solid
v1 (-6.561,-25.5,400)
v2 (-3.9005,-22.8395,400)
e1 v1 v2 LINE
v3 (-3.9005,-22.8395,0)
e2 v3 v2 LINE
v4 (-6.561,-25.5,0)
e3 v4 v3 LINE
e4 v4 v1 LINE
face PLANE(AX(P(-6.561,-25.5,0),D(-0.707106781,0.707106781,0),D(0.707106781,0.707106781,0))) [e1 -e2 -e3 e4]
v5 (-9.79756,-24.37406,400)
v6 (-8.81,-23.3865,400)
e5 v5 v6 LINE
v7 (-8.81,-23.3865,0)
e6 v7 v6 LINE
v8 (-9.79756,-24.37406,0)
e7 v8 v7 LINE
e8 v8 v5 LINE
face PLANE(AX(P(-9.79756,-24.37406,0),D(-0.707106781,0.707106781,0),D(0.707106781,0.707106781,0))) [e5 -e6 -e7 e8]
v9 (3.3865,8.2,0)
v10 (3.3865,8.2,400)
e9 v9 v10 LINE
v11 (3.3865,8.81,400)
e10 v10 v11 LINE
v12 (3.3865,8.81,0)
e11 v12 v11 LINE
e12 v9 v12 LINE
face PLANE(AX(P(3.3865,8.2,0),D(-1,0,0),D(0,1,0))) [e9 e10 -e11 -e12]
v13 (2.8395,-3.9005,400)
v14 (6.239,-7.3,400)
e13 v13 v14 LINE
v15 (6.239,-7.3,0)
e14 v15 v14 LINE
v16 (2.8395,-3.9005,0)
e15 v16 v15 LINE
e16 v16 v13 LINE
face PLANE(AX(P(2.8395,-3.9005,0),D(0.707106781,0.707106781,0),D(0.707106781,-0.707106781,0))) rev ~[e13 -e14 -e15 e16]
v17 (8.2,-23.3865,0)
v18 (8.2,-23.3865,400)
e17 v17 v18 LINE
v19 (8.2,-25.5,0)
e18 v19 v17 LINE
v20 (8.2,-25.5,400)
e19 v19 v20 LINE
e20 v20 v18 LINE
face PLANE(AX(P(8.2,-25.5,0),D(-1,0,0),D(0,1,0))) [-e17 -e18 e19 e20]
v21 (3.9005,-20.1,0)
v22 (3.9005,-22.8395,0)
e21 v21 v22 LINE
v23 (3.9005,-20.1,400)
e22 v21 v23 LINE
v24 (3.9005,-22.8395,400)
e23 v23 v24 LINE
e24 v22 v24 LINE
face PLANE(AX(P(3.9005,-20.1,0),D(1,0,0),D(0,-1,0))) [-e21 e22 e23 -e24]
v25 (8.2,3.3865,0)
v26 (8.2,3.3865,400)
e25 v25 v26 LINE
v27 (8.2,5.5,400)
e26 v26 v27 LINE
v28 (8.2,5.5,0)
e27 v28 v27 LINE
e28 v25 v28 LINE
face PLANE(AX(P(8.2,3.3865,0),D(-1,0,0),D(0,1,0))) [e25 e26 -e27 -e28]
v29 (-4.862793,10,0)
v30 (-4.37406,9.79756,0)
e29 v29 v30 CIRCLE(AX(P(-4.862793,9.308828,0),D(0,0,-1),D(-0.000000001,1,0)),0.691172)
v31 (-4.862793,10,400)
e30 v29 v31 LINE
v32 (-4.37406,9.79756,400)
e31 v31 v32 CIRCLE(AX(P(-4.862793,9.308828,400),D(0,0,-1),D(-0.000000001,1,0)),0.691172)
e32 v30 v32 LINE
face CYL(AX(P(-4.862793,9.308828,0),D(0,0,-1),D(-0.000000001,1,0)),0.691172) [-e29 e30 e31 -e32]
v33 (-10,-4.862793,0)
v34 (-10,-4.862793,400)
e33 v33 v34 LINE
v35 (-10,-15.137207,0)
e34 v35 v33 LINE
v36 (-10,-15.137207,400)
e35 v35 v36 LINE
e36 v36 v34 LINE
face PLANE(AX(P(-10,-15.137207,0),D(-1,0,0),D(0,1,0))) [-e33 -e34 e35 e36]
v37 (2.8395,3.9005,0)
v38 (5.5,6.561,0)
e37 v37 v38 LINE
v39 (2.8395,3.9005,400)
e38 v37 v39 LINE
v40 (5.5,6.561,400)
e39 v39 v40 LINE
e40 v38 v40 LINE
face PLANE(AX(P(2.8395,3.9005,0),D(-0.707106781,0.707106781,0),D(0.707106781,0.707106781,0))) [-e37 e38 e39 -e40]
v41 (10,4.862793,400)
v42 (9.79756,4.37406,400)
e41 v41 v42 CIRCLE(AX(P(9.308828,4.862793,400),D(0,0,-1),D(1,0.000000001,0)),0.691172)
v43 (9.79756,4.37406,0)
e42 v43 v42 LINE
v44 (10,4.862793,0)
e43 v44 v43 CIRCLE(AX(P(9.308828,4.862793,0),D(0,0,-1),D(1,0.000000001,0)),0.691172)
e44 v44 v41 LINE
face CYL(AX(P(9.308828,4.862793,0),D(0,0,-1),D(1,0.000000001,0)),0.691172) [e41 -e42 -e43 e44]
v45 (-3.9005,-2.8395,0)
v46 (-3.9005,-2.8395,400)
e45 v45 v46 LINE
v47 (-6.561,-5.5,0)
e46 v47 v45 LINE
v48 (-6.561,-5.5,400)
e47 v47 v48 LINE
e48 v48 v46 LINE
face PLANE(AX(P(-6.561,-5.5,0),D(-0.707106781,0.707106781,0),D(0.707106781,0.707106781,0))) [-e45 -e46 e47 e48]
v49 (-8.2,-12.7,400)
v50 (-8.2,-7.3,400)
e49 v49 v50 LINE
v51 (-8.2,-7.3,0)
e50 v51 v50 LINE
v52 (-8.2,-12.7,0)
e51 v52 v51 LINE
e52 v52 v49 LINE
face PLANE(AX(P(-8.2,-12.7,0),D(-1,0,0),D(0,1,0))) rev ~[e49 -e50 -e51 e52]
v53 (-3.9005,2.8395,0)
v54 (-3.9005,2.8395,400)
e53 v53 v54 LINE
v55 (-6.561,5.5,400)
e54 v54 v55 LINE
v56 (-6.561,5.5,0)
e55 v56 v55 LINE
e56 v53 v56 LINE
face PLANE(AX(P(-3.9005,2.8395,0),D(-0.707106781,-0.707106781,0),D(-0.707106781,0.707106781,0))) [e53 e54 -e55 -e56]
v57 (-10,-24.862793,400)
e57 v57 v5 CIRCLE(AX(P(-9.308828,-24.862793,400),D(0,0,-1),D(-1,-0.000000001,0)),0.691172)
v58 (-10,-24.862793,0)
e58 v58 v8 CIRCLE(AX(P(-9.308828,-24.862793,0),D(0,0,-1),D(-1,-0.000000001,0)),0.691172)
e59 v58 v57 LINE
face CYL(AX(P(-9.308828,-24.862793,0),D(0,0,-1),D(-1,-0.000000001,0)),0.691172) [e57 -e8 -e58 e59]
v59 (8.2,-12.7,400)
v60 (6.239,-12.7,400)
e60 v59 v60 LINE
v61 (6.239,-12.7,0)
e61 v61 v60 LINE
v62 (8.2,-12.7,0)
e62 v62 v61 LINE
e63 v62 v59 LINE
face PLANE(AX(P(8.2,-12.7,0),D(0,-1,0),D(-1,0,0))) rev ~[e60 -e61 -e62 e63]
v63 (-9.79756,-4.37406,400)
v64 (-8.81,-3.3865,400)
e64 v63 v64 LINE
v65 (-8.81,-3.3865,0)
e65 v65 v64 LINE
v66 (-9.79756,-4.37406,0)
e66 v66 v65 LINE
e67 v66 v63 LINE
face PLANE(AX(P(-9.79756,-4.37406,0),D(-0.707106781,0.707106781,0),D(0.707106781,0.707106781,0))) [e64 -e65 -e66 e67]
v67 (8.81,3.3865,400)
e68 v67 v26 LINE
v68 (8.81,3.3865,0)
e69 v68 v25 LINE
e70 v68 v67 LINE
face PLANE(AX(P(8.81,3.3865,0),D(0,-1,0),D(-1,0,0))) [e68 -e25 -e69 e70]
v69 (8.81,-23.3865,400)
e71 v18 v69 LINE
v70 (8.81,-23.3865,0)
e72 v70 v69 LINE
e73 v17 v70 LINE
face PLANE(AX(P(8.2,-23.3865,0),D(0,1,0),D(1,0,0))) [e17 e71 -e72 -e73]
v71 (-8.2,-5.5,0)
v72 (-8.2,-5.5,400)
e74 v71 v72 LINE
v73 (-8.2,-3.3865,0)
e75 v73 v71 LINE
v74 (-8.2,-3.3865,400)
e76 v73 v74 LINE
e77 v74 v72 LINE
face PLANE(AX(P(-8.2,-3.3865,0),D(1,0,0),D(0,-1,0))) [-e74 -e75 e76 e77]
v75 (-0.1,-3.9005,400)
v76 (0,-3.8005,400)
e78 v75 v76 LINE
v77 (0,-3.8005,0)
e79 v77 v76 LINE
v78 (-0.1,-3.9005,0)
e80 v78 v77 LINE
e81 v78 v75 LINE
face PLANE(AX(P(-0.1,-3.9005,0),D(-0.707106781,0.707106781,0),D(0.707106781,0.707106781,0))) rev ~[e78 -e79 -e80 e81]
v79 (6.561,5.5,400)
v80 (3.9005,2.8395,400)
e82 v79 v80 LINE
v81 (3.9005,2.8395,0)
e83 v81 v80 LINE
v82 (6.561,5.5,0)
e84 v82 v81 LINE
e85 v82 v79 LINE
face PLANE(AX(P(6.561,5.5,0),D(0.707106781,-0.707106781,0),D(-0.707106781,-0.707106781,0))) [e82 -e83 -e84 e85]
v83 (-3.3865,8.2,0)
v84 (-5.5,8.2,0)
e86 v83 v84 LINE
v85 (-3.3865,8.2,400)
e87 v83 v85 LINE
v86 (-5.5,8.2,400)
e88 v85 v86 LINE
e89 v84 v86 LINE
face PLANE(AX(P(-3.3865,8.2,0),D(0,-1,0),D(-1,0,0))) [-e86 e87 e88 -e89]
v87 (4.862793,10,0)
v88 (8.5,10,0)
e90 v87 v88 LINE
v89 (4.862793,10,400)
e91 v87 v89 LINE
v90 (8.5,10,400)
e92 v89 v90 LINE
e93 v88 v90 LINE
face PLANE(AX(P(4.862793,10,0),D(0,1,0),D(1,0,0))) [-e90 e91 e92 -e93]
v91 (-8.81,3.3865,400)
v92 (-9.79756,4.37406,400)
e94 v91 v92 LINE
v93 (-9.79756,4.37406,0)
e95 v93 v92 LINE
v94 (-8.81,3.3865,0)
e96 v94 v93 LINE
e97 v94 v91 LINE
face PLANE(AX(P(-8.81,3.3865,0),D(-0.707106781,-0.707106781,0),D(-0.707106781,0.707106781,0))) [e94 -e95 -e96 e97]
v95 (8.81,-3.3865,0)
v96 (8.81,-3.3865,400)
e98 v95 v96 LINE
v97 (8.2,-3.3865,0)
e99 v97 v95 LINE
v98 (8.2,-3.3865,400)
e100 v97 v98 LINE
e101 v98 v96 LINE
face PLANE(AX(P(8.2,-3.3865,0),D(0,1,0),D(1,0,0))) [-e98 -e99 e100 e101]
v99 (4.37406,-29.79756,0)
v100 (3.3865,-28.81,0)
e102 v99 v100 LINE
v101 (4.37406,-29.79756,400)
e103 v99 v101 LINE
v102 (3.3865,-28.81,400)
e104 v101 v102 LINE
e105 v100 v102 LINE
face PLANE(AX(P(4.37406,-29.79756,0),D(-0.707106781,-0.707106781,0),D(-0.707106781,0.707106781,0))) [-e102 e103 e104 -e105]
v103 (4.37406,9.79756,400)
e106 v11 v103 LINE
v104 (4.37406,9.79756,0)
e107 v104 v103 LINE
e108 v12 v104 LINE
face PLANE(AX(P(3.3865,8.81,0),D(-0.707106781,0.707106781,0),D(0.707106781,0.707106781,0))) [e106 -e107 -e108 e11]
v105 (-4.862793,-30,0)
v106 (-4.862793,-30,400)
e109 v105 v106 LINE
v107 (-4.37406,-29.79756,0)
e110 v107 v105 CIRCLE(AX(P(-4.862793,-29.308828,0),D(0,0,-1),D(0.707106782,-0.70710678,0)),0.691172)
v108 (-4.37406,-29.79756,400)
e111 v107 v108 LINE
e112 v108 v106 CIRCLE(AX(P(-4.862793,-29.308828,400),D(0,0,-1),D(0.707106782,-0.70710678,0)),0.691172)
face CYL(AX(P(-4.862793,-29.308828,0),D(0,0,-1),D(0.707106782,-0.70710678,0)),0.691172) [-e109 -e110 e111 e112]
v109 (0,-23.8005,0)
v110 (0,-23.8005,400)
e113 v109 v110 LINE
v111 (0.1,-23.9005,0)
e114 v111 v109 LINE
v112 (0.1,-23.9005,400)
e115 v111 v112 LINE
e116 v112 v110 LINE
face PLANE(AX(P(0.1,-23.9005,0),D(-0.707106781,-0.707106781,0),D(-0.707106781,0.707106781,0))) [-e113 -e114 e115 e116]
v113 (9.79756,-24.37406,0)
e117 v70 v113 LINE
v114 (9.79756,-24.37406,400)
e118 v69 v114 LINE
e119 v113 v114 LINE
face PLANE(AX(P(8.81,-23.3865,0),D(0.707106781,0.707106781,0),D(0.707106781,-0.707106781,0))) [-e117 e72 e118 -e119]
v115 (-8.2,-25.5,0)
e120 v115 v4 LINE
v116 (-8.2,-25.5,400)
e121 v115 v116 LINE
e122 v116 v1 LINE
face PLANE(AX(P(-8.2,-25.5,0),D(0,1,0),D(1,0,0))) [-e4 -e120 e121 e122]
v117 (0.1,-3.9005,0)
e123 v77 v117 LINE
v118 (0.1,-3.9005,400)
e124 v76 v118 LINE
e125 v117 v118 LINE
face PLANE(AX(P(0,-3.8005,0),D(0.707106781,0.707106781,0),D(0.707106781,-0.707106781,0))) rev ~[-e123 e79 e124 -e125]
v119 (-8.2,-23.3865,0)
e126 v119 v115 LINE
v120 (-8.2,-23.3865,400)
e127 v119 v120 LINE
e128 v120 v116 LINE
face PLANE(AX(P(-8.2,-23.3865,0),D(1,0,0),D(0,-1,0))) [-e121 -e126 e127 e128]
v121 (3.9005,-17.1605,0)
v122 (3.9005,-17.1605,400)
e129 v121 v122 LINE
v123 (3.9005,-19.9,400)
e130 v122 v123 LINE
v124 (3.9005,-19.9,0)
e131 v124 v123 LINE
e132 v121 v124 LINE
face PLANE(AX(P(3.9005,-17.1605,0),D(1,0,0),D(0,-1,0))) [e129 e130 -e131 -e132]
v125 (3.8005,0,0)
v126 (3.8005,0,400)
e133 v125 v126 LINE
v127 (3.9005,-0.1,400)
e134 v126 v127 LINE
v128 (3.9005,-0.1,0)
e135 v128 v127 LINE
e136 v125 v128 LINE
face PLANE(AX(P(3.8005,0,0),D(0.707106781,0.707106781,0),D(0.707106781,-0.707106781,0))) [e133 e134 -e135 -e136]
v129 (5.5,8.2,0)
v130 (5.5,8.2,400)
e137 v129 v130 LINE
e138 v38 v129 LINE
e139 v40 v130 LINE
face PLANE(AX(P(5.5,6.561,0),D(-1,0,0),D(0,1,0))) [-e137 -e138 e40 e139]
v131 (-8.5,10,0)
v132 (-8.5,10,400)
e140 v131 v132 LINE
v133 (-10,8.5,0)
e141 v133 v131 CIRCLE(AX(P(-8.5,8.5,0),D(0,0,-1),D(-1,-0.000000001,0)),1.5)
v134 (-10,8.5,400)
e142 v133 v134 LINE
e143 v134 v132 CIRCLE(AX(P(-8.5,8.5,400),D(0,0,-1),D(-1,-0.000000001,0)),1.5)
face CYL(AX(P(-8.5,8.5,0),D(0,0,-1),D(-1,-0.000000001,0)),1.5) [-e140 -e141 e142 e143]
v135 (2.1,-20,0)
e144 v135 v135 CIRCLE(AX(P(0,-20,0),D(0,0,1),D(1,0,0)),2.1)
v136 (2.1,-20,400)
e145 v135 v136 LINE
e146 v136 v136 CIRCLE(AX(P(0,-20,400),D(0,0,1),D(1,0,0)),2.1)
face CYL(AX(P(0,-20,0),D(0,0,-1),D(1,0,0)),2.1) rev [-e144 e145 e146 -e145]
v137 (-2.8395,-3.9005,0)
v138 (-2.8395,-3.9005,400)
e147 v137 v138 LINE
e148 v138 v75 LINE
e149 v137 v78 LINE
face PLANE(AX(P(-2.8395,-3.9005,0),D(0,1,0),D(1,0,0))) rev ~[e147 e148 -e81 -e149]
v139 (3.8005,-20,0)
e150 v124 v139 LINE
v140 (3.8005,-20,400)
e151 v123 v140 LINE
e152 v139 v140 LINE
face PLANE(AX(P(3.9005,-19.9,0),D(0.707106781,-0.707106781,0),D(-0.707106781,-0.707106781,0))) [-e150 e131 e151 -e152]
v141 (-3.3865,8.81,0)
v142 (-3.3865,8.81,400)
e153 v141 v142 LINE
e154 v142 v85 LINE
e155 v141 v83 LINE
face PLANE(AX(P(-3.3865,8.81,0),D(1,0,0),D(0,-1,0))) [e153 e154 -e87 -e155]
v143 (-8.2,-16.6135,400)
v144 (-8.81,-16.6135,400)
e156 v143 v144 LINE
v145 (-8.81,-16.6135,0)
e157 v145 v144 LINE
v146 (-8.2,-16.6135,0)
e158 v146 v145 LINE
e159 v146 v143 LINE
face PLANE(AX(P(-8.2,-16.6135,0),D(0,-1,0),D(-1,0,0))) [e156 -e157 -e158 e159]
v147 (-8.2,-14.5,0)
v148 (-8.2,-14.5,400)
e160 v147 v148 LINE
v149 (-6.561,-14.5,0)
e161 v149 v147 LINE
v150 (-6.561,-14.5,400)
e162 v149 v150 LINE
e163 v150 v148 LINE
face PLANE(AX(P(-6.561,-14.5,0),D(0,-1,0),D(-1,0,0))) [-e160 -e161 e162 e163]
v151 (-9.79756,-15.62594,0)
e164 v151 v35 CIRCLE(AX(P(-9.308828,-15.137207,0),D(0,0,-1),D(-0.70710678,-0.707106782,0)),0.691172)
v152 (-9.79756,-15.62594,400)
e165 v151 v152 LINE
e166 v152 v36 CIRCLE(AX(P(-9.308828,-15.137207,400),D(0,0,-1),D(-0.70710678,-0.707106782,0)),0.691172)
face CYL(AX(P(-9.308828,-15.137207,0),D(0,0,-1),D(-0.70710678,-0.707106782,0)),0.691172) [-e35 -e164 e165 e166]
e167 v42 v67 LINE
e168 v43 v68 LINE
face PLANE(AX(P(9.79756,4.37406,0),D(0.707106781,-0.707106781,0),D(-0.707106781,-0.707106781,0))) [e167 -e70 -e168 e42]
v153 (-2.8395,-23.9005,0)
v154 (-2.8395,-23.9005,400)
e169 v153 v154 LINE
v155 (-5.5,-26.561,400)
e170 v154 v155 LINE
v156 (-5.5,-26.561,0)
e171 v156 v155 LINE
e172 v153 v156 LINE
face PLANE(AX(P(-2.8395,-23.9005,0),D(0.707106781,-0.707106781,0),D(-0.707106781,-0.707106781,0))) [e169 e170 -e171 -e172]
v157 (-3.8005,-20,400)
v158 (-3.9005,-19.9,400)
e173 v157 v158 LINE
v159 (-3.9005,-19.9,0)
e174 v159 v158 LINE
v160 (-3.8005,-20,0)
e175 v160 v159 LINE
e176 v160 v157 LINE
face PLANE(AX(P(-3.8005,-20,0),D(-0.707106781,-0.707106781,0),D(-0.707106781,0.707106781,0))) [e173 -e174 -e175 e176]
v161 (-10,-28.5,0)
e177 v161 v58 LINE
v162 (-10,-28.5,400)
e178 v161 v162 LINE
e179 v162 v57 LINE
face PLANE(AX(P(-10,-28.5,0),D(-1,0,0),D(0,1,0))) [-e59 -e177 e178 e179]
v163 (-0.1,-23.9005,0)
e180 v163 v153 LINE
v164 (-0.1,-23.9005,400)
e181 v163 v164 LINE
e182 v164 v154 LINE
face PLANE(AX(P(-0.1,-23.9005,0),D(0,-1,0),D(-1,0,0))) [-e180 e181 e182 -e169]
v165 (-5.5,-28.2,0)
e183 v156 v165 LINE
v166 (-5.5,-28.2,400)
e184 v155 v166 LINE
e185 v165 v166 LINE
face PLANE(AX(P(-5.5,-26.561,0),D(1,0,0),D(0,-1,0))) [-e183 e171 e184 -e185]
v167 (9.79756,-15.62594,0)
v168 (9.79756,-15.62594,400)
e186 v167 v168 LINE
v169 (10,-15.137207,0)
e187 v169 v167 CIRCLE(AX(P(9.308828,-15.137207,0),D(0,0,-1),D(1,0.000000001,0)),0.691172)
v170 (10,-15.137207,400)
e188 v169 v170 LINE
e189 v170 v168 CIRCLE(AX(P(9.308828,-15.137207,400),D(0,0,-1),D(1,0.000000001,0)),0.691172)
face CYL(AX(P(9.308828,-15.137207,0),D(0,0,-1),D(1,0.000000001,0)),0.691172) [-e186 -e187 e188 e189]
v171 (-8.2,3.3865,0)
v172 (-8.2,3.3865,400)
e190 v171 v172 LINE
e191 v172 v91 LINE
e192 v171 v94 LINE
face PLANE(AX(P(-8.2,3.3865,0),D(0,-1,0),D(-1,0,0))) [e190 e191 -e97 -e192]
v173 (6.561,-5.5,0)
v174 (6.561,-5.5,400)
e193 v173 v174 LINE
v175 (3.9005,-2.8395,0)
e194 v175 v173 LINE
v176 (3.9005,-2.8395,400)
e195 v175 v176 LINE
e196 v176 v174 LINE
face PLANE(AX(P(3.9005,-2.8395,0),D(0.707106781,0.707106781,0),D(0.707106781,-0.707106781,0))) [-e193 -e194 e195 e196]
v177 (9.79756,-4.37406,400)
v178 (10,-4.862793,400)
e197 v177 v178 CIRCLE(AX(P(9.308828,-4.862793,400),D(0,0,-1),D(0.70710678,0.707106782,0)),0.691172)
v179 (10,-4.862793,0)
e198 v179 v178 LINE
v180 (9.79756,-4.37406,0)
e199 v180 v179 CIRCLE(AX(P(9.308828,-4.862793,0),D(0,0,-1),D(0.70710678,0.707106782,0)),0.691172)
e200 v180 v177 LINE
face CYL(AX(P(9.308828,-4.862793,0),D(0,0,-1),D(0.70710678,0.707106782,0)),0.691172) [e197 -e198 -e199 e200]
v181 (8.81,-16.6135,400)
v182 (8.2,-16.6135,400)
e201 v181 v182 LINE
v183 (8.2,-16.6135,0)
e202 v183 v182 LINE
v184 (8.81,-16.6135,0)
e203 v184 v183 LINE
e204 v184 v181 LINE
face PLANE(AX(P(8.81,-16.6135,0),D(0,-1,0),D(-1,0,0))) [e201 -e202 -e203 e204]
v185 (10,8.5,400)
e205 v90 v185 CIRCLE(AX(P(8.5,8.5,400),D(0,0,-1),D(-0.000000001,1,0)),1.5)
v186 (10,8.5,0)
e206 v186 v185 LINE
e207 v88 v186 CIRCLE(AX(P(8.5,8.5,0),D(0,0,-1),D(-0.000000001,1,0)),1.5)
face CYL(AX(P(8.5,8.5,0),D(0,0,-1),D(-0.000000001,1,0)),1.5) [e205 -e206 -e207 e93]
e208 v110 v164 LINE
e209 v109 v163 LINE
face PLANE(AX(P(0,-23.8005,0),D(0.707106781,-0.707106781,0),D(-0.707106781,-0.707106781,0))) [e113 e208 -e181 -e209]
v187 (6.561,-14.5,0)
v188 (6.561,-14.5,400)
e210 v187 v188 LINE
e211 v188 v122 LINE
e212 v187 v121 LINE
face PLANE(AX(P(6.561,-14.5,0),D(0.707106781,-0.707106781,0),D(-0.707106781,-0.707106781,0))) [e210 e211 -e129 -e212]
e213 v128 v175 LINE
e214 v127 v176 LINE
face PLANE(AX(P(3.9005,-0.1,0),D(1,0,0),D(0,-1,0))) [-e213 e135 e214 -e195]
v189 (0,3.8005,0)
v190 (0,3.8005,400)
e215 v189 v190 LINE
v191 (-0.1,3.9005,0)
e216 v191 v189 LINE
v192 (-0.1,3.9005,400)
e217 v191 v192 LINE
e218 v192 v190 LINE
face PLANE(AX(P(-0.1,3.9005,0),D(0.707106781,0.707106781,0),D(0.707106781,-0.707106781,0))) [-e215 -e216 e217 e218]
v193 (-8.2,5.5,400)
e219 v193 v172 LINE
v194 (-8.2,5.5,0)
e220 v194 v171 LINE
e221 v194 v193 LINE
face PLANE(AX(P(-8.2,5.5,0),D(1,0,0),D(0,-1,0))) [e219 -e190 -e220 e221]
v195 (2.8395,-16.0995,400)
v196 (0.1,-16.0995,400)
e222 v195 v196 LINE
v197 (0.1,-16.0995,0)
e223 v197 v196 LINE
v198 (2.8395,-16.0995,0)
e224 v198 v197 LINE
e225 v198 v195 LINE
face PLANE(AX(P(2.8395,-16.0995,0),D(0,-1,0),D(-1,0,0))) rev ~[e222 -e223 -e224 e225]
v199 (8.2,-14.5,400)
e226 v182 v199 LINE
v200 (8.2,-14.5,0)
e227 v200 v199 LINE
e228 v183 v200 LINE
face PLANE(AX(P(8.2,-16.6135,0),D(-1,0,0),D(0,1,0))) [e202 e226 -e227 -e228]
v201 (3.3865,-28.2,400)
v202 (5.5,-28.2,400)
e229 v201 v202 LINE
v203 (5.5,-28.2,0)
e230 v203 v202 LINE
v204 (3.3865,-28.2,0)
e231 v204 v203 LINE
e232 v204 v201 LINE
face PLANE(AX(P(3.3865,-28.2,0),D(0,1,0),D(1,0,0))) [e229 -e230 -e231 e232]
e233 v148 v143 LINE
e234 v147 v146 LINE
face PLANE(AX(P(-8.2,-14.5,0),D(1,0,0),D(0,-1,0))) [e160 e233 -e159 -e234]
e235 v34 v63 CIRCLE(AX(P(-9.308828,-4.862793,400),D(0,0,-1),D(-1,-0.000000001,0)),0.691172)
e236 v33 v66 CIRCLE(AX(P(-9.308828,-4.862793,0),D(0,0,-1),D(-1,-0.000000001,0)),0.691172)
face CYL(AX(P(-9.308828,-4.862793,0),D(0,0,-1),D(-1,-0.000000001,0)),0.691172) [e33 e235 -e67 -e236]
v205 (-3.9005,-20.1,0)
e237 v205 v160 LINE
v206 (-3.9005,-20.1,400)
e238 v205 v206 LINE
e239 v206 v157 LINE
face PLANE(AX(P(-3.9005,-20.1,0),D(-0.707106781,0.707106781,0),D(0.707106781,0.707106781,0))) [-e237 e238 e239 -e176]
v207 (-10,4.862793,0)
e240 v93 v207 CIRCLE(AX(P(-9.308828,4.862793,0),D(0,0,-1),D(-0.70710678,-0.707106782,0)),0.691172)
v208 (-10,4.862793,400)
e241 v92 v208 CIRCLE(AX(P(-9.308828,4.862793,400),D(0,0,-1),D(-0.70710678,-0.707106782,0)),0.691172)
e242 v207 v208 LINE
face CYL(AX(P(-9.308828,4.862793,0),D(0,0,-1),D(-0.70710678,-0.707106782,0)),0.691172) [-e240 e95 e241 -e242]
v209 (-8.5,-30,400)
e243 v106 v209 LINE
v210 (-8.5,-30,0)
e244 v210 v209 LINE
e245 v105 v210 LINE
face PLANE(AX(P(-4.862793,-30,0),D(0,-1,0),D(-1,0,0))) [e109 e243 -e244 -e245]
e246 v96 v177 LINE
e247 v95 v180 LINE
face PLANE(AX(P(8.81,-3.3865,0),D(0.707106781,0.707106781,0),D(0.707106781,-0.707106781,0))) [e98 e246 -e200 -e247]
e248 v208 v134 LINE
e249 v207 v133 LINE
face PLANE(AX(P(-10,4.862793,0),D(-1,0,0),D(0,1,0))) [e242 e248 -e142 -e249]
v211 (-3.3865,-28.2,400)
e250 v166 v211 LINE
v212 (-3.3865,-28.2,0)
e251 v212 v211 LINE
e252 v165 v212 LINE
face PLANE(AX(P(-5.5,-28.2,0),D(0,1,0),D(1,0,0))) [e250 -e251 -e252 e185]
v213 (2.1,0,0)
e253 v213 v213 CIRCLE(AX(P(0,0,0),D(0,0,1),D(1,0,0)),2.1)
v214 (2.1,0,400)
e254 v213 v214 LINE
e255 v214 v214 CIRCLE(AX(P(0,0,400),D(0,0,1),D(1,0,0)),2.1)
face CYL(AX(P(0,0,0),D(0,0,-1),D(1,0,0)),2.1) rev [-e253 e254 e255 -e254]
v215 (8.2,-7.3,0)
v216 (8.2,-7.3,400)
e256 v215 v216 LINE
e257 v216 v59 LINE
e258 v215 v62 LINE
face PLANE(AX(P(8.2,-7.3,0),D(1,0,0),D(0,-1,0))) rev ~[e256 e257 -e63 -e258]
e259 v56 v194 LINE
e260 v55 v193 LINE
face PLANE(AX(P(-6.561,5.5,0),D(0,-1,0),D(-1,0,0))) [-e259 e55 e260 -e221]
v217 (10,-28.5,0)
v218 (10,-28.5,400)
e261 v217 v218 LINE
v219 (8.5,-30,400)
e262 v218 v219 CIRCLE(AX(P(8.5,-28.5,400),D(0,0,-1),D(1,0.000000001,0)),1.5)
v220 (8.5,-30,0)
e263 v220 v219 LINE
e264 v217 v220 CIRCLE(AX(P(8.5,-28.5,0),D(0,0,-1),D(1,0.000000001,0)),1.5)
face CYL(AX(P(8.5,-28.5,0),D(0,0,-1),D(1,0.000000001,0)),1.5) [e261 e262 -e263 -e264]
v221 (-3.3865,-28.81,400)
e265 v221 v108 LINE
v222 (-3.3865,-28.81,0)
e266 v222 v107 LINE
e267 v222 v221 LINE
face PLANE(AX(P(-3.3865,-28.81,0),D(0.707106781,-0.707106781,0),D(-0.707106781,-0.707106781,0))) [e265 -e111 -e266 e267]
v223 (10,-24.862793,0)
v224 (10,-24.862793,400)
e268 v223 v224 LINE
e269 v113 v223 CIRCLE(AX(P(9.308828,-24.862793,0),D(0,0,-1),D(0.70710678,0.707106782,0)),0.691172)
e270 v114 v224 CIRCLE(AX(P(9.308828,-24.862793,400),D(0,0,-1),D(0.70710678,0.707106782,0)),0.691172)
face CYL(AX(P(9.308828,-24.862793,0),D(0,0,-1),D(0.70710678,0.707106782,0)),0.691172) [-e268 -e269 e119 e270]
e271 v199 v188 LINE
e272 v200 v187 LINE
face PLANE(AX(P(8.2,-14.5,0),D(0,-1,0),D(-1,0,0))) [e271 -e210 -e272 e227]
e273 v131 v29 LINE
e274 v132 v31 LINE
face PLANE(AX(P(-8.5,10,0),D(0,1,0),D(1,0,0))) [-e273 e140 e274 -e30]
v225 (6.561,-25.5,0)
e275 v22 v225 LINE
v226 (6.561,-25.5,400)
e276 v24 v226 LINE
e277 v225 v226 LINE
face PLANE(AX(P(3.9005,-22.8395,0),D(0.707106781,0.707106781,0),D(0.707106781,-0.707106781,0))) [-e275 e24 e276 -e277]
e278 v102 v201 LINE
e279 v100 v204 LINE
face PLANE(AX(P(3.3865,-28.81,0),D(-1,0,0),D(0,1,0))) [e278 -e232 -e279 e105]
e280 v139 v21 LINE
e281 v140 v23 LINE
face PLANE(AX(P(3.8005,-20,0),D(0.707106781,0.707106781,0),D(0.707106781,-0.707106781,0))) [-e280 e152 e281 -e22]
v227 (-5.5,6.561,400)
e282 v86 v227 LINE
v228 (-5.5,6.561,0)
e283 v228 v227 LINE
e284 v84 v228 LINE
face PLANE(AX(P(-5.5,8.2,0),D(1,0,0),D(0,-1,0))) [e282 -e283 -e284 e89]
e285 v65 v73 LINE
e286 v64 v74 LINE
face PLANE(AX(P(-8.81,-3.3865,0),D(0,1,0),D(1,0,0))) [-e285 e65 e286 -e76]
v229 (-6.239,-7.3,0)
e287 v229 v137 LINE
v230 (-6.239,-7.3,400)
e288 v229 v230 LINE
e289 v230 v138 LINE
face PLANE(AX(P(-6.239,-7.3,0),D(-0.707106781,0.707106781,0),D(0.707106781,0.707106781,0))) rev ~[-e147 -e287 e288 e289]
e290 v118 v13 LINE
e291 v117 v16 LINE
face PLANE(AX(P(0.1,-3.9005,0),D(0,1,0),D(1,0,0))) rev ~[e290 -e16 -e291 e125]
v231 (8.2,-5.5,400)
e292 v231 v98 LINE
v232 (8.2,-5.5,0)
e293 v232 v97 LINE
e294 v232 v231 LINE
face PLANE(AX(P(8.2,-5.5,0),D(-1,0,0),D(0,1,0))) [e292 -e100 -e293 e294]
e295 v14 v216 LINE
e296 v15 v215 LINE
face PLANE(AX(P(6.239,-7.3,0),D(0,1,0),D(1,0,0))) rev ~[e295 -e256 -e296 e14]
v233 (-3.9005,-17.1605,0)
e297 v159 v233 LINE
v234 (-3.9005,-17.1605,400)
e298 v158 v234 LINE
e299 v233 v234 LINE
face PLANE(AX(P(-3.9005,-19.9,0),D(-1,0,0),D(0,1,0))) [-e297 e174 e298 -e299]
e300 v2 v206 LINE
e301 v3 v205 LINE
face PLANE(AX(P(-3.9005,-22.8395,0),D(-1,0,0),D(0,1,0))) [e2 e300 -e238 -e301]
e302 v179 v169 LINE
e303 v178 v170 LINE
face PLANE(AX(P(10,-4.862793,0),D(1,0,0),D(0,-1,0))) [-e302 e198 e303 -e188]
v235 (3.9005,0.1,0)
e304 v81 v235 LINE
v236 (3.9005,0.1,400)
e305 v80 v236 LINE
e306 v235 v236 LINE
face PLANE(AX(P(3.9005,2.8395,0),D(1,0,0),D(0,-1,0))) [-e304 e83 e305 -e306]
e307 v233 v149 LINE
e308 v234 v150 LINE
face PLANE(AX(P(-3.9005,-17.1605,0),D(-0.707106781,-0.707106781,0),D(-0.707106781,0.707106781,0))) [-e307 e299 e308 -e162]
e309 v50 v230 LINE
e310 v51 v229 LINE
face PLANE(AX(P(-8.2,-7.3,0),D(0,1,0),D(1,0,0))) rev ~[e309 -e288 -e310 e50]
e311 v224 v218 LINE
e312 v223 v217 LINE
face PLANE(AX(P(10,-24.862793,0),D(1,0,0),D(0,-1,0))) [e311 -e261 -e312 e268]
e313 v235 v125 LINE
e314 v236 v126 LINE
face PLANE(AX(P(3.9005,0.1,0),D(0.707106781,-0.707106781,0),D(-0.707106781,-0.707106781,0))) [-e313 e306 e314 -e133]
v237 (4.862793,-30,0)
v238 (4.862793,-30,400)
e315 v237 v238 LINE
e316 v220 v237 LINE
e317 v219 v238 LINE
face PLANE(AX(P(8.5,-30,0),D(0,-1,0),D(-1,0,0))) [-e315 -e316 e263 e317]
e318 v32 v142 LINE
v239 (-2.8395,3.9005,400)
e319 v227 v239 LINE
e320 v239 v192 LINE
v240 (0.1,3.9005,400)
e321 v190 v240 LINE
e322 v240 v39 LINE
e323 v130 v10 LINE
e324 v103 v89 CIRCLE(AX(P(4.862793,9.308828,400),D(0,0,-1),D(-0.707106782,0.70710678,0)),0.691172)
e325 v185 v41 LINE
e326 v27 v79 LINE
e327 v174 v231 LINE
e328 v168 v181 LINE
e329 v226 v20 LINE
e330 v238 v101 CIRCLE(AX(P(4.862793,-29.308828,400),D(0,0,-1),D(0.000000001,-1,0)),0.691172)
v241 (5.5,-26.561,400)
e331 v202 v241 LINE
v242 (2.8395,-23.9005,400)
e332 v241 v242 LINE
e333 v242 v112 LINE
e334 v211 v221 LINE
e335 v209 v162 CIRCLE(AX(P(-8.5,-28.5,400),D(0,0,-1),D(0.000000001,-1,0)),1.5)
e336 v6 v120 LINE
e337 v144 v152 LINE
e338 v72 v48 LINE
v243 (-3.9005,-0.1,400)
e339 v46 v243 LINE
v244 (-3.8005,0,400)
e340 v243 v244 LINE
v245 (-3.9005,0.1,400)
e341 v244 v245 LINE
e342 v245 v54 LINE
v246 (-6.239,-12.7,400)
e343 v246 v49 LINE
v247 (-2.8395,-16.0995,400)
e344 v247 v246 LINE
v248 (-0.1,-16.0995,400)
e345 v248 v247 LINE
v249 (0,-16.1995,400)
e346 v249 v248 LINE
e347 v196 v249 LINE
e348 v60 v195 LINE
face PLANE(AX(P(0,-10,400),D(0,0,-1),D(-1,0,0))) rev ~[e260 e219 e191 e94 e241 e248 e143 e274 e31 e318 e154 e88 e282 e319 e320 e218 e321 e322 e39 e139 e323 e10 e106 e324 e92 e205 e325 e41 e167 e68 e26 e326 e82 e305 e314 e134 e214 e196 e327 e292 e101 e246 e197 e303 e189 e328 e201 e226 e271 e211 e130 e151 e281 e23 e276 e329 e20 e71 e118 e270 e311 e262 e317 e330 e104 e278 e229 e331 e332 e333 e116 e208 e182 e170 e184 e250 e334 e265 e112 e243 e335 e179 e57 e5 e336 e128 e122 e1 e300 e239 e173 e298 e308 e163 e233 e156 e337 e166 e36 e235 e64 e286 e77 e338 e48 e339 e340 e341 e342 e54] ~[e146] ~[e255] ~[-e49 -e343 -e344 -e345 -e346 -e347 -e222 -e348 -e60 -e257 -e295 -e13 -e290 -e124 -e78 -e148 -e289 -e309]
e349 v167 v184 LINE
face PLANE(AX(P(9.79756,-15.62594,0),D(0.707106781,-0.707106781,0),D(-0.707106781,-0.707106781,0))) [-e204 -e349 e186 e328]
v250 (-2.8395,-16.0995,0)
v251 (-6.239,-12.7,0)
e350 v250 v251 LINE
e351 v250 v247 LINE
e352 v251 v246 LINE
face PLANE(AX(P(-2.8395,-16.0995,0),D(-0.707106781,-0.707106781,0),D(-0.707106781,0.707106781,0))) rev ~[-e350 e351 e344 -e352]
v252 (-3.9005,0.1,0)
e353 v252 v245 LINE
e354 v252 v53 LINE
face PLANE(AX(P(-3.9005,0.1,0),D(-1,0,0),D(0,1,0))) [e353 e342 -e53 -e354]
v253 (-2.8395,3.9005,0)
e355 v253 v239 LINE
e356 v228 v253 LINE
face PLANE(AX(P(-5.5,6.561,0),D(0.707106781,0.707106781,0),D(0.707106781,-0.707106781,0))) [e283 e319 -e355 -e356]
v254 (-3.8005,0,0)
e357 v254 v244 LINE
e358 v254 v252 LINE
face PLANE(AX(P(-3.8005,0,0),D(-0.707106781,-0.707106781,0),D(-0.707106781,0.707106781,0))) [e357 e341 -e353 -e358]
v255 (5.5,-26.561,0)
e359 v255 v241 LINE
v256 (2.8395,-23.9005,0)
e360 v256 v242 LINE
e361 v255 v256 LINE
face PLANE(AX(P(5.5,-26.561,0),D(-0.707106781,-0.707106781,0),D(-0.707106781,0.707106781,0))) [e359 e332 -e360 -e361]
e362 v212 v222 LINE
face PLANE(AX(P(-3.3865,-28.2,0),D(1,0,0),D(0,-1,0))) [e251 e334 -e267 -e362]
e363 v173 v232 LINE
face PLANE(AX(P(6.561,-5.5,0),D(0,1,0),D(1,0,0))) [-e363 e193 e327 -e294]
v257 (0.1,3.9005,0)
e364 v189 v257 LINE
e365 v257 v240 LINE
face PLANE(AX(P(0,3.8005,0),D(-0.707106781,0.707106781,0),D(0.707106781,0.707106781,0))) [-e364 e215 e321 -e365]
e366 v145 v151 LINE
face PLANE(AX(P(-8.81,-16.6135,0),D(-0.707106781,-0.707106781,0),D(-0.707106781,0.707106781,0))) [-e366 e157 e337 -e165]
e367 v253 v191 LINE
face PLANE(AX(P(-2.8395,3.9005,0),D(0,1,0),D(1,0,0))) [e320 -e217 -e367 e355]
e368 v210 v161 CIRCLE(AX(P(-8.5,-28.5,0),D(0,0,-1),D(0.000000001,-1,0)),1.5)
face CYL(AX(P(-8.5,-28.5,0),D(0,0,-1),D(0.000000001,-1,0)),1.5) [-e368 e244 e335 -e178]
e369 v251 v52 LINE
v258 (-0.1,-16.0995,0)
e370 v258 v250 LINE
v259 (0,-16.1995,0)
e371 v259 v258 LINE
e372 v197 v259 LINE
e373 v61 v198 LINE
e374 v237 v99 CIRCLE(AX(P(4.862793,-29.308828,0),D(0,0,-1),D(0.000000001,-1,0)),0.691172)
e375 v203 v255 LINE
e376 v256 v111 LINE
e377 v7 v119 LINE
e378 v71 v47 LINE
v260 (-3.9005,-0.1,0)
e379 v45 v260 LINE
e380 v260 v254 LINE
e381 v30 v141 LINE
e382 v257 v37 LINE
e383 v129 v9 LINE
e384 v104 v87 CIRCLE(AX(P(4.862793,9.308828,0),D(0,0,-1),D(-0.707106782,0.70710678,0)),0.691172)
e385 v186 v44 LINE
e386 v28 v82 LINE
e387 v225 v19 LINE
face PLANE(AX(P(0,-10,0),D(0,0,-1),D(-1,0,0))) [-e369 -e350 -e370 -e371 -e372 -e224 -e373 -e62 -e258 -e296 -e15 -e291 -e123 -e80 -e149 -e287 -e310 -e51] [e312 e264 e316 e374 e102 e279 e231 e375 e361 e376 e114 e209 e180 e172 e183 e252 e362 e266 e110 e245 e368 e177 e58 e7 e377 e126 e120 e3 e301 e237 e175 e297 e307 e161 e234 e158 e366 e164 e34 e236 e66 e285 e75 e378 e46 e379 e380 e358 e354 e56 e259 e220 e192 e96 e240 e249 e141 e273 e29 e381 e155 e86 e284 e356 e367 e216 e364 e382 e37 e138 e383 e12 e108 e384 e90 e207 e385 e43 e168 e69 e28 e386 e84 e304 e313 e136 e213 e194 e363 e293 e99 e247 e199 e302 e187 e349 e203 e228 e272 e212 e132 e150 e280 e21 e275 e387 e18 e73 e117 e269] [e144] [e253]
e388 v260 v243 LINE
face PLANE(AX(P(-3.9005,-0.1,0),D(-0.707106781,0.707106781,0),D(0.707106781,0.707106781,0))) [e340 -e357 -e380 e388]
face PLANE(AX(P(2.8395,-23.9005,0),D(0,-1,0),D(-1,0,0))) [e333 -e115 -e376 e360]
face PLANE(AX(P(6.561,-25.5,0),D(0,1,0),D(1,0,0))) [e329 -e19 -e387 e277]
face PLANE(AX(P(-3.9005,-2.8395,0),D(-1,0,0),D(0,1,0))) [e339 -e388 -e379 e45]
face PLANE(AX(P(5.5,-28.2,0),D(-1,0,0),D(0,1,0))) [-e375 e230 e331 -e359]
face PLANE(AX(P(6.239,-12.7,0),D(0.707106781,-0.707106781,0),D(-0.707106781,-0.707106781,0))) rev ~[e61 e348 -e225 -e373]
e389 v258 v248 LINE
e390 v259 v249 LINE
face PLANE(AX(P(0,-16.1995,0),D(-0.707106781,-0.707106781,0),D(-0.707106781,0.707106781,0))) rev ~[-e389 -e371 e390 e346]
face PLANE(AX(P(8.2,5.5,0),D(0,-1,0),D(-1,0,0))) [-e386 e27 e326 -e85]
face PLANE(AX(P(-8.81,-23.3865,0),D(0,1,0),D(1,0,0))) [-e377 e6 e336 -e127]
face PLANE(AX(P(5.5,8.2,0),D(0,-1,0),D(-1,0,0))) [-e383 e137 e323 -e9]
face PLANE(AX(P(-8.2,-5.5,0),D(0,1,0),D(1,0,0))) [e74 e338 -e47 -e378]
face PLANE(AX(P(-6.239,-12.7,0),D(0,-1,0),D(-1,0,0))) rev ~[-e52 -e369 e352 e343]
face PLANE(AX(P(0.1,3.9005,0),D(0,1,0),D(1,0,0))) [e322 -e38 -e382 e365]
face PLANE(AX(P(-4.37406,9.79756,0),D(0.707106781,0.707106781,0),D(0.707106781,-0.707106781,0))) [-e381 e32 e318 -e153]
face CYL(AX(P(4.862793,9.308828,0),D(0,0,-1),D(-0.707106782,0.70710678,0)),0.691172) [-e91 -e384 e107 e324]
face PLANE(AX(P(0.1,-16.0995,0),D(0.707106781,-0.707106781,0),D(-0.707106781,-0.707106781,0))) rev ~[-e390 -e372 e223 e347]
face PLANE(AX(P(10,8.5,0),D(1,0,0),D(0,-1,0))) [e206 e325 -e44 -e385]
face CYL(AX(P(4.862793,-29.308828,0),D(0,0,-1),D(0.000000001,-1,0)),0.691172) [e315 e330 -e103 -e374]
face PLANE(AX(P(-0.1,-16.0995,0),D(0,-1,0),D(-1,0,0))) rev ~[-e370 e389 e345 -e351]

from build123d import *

# Parameters (mm, degrees)
SKETCH1_R           = 2.1
BOSS_EXTRUDE2_DEPTH = 400


with BuildPart() as part:
    # Sketch1 → Boss-Extrude2 (new body)
    with BuildSketch(Plane.XY):
        with BuildLine():
            Line((-8.5, 10), (-4.862792737, 10))
            ThreePointArc((-4.862792737, 10), (-4.598292737, 9.947387679), (-4.374060464, 9.797560464))
            Line((-4.374060464, 9.797560464), (-3.3865, 8.81))
            Line((-3.3865, 8.81), (-3.3865, 8.2))
            Line((-3.3865, 8.2), (-5.5, 8.2))
            Line((-5.5, 8.2), (-5.5, 6.561))
            Line((-5.5, 6.561), (-2.8395, 3.9005))
            Line((-2.8395, 3.9005), (-0.1, 3.9005))
            Line((-0.1, 3.9005), (0, 3.8005))
            Line((0, 3.8005), (0.1, 3.9005))
            Line((0.1, 3.9005), (2.8395, 3.9005))
            Line((2.8395, 3.9005), (5.5, 6.561))
            Line((5.5, 6.561), (5.5, 8.2))
            Line((5.5, 8.2), (3.3865, 8.2))
            Line((3.3865, 8.2), (3.3865, 8.81))
            Line((3.3865, 8.81), (4.374060464, 9.797560464))
            ThreePointArc((4.374060464, 9.797560464), (4.598292737, 9.947387679), (4.862792737, 10))
            Line((4.862792737, 10), (8.5, 10))
            ThreePointArc((8.5, 10), (9.560660172, 9.560660172), (10, 8.5))
            Line((10, 8.5), (10, 4.862792737))
            ThreePointArc((10, 4.862792737), (9.947387679, 4.598292737), (9.797560464, 4.374060464))
            Line((9.797560464, 4.374060464), (8.81, 3.3865))
            Line((8.81, 3.3865), (8.2, 3.3865))
            Line((8.2, 3.3865), (8.2, 5.5))
            Line((8.2, 5.5), (6.561, 5.5))
            Line((6.561, 5.5), (3.9005, 2.8395))
            Line((3.9005, 2.8395), (3.9005, 0.1))
            Line((3.9005, 0.1), (3.8005, 0))
            Line((3.8005, 0), (3.9005, -0.1))
            Line((3.9005, -0.1), (3.9005, -2.8395))
            Line((3.9005, -2.8395), (6.561, -5.5))
            Line((6.561, -5.5), (8.2, -5.5))
            Line((8.2, -5.5), (8.2, -3.3865))
            Line((8.2, -3.3865), (8.81, -3.3865))
            Line((8.81, -3.3865), (9.797560464, -4.374060464))
            ThreePointArc((9.797560464, -4.374060464), (9.947387679, -4.598292737), (10, -4.862792737))
            Line((10, -4.862792737), (10, -15.137207263))
            ThreePointArc((10, -15.137207263), (9.947387679, -15.401707263), (9.797560464, -15.625939536))
            Line((9.797560464, -15.625939536), (8.81, -16.6135))
            Line((8.81, -16.6135), (8.2, -16.6135))
            Line((8.2, -16.6135), (8.2, -14.5))
            Line((8.2, -14.5), (6.561, -14.5))
            Line((6.561, -14.5), (3.9005, -17.1605))
            Line((3.9005, -17.1605), (3.9005, -19.9))
            Line((3.9005, -19.9), (3.8005, -20))
            Line((3.8005, -20), (3.9005, -20.1))
            Line((3.9005, -20.1), (3.9005, -22.8395))
            Line((3.9005, -22.8395), (6.561, -25.5))
            Line((6.561, -25.5), (8.2, -25.5))
            Line((8.2, -25.5), (8.2, -23.3865))
            Line((8.2, -23.3865), (8.81, -23.3865))
            Line((8.81, -23.3865), (9.797560464, -24.374060464))
            ThreePointArc((9.797560464, -24.374060464), (9.947387679, -24.598292737), (10, -24.862792737))
            Line((10, -24.862792737), (10, -28.5))
            ThreePointArc((10, -28.5), (9.560660172, -29.560660172), (8.5, -30))
            Line((8.5, -30), (4.862792737, -30))
            ThreePointArc((4.862792737, -30), (4.598292737, -29.947387679), (4.374060464, -29.797560464))
            Line((4.374060464, -29.797560464), (3.3865, -28.81))
            Line((3.3865, -28.81), (3.3865, -28.2))
            Line((3.3865, -28.2), (5.5, -28.2))
            Line((5.5, -28.2), (5.5, -26.561))
            Line((5.5, -26.561), (2.8395, -23.9005))
            Line((2.8395, -23.9005), (0.1, -23.9005))
            Line((0.1, -23.9005), (0, -23.8005))
            Line((0, -23.8005), (-0.1, -23.9005))
            Line((-0.1, -23.9005), (-2.8395, -23.9005))
            Line((-2.8395, -23.9005), (-5.5, -26.561))
            Line((-5.5, -26.561), (-5.5, -28.2))
            Line((-5.5, -28.2), (-3.3865, -28.2))
            Line((-3.3865, -28.2), (-3.3865, -28.81))
            Line((-3.3865, -28.81), (-4.374060464, -29.797560464))
            ThreePointArc((-4.374060464, -29.797560464), (-4.598292737, -29.947387679), (-4.862792737, -30))
            Line((-4.862792737, -30), (-8.5, -30))
            ThreePointArc((-8.5, -30), (-9.560660172, -29.560660172), (-10, -28.5))
            Line((-10, -28.5), (-10, -24.862792737))
            ThreePointArc((-10, -24.862792737), (-9.947387679, -24.598292737), (-9.797560464, -24.374060464))
            Line((-9.797560464, -24.374060464), (-8.81, -23.3865))
            Line((-8.81, -23.3865), (-8.2, -23.3865))
            Line((-8.2, -23.3865), (-8.2, -25.5))
            Line((-8.2, -25.5), (-6.561, -25.5))
            Line((-6.561, -25.5), (-3.9005, -22.8395))
            Line((-3.9005, -22.8395), (-3.9005, -20.1))
            Line((-3.9005, -20.1), (-3.8005, -20))
            Line((-3.8005, -20), (-3.9005, -19.9))
            Line((-3.9005, -19.9), (-3.9005, -17.1605))
            Line((-3.9005, -17.1605), (-6.561, -14.5))
            Line((-6.561, -14.5), (-8.2, -14.5))
            Line((-8.2, -14.5), (-8.2, -16.6135))
            Line((-8.2, -16.6135), (-8.81, -16.6135))
            Line((-8.81, -16.6135), (-9.797560464, -15.625939536))
            ThreePointArc((-9.797560464, -15.625939536), (-9.947387679, -15.401707263), (-10, -15.137207263))
            Line((-10, -15.137207263), (-10, -4.862792737))
            ThreePointArc((-10, -4.862792737), (-9.947387679, -4.598292737), (-9.797560464, -4.374060464))
            Line((-9.797560464, -4.374060464), (-8.81, -3.3865))
            Line((-8.81, -3.3865), (-8.2, -3.3865))
            Line((-8.2, -3.3865), (-8.2, -5.5))
            Line((-8.2, -5.5), (-6.561, -5.5))
            Line((-6.561, -5.5), (-3.9005, -2.8395))
            Line((-3.9005, -2.8395), (-3.9005, -0.1))
            Line((-3.9005, -0.1), (-3.8005, 0))
            Line((-3.8005, 0), (-3.9005, 0.1))
            Line((-3.9005, 0.1), (-3.9005, 2.8395))
            Line((-3.9005, 2.8395), (-6.561, 5.5))
            Line((-6.561, 5.5), (-8.2, 5.5))
            Line((-8.2, 5.5), (-8.2, 3.3865))
            Line((-8.2, 3.3865), (-8.81, 3.3865))
            Line((-8.81, 3.3865), (-9.797560464, 4.374060464))
            ThreePointArc((-9.797560464, 4.374060464), (-9.947387679, 4.598292737), (-10, 4.862792737))
            Line((-10, 4.862792737), (-10, 8.5))
            ThreePointArc((-10, 8.5), (-9.560660172, 9.560660172), (-8.5, 10))
        make_face()
        Circle(SKETCH1_R, mode=Mode.SUBTRACT)
        with Locations((0, -20)):
            Circle(SKETCH1_R, mode=Mode.SUBTRACT)
        Polygon((-8.2, -12.7), (-8.2, -7.3), (-6.239, -7.3), (-5.5, -6.561), (-2.8395, -3.9005), (-0.1, -3.9005), (0, -3.8005), (0.1, -3.9005), (2.8395, -3.9005), (5.5, -6.561), (6.239, -7.3), (8.2, -7.3), (8.2, -12.7), (6.239, -12.7), (5.5, -13.439), (2.8395, -16.0995), (0.1, -16.0995), (0, -16.1995), (-0.1, -16.0995), (-2.8395, -16.0995), (-5.5, -13.439), (-6.239, -12.7), align=None, mode=Mode.SUBTRACT)
    extrude(amount=BOSS_EXTRUDE2_DEPTH)


solid = part.part
